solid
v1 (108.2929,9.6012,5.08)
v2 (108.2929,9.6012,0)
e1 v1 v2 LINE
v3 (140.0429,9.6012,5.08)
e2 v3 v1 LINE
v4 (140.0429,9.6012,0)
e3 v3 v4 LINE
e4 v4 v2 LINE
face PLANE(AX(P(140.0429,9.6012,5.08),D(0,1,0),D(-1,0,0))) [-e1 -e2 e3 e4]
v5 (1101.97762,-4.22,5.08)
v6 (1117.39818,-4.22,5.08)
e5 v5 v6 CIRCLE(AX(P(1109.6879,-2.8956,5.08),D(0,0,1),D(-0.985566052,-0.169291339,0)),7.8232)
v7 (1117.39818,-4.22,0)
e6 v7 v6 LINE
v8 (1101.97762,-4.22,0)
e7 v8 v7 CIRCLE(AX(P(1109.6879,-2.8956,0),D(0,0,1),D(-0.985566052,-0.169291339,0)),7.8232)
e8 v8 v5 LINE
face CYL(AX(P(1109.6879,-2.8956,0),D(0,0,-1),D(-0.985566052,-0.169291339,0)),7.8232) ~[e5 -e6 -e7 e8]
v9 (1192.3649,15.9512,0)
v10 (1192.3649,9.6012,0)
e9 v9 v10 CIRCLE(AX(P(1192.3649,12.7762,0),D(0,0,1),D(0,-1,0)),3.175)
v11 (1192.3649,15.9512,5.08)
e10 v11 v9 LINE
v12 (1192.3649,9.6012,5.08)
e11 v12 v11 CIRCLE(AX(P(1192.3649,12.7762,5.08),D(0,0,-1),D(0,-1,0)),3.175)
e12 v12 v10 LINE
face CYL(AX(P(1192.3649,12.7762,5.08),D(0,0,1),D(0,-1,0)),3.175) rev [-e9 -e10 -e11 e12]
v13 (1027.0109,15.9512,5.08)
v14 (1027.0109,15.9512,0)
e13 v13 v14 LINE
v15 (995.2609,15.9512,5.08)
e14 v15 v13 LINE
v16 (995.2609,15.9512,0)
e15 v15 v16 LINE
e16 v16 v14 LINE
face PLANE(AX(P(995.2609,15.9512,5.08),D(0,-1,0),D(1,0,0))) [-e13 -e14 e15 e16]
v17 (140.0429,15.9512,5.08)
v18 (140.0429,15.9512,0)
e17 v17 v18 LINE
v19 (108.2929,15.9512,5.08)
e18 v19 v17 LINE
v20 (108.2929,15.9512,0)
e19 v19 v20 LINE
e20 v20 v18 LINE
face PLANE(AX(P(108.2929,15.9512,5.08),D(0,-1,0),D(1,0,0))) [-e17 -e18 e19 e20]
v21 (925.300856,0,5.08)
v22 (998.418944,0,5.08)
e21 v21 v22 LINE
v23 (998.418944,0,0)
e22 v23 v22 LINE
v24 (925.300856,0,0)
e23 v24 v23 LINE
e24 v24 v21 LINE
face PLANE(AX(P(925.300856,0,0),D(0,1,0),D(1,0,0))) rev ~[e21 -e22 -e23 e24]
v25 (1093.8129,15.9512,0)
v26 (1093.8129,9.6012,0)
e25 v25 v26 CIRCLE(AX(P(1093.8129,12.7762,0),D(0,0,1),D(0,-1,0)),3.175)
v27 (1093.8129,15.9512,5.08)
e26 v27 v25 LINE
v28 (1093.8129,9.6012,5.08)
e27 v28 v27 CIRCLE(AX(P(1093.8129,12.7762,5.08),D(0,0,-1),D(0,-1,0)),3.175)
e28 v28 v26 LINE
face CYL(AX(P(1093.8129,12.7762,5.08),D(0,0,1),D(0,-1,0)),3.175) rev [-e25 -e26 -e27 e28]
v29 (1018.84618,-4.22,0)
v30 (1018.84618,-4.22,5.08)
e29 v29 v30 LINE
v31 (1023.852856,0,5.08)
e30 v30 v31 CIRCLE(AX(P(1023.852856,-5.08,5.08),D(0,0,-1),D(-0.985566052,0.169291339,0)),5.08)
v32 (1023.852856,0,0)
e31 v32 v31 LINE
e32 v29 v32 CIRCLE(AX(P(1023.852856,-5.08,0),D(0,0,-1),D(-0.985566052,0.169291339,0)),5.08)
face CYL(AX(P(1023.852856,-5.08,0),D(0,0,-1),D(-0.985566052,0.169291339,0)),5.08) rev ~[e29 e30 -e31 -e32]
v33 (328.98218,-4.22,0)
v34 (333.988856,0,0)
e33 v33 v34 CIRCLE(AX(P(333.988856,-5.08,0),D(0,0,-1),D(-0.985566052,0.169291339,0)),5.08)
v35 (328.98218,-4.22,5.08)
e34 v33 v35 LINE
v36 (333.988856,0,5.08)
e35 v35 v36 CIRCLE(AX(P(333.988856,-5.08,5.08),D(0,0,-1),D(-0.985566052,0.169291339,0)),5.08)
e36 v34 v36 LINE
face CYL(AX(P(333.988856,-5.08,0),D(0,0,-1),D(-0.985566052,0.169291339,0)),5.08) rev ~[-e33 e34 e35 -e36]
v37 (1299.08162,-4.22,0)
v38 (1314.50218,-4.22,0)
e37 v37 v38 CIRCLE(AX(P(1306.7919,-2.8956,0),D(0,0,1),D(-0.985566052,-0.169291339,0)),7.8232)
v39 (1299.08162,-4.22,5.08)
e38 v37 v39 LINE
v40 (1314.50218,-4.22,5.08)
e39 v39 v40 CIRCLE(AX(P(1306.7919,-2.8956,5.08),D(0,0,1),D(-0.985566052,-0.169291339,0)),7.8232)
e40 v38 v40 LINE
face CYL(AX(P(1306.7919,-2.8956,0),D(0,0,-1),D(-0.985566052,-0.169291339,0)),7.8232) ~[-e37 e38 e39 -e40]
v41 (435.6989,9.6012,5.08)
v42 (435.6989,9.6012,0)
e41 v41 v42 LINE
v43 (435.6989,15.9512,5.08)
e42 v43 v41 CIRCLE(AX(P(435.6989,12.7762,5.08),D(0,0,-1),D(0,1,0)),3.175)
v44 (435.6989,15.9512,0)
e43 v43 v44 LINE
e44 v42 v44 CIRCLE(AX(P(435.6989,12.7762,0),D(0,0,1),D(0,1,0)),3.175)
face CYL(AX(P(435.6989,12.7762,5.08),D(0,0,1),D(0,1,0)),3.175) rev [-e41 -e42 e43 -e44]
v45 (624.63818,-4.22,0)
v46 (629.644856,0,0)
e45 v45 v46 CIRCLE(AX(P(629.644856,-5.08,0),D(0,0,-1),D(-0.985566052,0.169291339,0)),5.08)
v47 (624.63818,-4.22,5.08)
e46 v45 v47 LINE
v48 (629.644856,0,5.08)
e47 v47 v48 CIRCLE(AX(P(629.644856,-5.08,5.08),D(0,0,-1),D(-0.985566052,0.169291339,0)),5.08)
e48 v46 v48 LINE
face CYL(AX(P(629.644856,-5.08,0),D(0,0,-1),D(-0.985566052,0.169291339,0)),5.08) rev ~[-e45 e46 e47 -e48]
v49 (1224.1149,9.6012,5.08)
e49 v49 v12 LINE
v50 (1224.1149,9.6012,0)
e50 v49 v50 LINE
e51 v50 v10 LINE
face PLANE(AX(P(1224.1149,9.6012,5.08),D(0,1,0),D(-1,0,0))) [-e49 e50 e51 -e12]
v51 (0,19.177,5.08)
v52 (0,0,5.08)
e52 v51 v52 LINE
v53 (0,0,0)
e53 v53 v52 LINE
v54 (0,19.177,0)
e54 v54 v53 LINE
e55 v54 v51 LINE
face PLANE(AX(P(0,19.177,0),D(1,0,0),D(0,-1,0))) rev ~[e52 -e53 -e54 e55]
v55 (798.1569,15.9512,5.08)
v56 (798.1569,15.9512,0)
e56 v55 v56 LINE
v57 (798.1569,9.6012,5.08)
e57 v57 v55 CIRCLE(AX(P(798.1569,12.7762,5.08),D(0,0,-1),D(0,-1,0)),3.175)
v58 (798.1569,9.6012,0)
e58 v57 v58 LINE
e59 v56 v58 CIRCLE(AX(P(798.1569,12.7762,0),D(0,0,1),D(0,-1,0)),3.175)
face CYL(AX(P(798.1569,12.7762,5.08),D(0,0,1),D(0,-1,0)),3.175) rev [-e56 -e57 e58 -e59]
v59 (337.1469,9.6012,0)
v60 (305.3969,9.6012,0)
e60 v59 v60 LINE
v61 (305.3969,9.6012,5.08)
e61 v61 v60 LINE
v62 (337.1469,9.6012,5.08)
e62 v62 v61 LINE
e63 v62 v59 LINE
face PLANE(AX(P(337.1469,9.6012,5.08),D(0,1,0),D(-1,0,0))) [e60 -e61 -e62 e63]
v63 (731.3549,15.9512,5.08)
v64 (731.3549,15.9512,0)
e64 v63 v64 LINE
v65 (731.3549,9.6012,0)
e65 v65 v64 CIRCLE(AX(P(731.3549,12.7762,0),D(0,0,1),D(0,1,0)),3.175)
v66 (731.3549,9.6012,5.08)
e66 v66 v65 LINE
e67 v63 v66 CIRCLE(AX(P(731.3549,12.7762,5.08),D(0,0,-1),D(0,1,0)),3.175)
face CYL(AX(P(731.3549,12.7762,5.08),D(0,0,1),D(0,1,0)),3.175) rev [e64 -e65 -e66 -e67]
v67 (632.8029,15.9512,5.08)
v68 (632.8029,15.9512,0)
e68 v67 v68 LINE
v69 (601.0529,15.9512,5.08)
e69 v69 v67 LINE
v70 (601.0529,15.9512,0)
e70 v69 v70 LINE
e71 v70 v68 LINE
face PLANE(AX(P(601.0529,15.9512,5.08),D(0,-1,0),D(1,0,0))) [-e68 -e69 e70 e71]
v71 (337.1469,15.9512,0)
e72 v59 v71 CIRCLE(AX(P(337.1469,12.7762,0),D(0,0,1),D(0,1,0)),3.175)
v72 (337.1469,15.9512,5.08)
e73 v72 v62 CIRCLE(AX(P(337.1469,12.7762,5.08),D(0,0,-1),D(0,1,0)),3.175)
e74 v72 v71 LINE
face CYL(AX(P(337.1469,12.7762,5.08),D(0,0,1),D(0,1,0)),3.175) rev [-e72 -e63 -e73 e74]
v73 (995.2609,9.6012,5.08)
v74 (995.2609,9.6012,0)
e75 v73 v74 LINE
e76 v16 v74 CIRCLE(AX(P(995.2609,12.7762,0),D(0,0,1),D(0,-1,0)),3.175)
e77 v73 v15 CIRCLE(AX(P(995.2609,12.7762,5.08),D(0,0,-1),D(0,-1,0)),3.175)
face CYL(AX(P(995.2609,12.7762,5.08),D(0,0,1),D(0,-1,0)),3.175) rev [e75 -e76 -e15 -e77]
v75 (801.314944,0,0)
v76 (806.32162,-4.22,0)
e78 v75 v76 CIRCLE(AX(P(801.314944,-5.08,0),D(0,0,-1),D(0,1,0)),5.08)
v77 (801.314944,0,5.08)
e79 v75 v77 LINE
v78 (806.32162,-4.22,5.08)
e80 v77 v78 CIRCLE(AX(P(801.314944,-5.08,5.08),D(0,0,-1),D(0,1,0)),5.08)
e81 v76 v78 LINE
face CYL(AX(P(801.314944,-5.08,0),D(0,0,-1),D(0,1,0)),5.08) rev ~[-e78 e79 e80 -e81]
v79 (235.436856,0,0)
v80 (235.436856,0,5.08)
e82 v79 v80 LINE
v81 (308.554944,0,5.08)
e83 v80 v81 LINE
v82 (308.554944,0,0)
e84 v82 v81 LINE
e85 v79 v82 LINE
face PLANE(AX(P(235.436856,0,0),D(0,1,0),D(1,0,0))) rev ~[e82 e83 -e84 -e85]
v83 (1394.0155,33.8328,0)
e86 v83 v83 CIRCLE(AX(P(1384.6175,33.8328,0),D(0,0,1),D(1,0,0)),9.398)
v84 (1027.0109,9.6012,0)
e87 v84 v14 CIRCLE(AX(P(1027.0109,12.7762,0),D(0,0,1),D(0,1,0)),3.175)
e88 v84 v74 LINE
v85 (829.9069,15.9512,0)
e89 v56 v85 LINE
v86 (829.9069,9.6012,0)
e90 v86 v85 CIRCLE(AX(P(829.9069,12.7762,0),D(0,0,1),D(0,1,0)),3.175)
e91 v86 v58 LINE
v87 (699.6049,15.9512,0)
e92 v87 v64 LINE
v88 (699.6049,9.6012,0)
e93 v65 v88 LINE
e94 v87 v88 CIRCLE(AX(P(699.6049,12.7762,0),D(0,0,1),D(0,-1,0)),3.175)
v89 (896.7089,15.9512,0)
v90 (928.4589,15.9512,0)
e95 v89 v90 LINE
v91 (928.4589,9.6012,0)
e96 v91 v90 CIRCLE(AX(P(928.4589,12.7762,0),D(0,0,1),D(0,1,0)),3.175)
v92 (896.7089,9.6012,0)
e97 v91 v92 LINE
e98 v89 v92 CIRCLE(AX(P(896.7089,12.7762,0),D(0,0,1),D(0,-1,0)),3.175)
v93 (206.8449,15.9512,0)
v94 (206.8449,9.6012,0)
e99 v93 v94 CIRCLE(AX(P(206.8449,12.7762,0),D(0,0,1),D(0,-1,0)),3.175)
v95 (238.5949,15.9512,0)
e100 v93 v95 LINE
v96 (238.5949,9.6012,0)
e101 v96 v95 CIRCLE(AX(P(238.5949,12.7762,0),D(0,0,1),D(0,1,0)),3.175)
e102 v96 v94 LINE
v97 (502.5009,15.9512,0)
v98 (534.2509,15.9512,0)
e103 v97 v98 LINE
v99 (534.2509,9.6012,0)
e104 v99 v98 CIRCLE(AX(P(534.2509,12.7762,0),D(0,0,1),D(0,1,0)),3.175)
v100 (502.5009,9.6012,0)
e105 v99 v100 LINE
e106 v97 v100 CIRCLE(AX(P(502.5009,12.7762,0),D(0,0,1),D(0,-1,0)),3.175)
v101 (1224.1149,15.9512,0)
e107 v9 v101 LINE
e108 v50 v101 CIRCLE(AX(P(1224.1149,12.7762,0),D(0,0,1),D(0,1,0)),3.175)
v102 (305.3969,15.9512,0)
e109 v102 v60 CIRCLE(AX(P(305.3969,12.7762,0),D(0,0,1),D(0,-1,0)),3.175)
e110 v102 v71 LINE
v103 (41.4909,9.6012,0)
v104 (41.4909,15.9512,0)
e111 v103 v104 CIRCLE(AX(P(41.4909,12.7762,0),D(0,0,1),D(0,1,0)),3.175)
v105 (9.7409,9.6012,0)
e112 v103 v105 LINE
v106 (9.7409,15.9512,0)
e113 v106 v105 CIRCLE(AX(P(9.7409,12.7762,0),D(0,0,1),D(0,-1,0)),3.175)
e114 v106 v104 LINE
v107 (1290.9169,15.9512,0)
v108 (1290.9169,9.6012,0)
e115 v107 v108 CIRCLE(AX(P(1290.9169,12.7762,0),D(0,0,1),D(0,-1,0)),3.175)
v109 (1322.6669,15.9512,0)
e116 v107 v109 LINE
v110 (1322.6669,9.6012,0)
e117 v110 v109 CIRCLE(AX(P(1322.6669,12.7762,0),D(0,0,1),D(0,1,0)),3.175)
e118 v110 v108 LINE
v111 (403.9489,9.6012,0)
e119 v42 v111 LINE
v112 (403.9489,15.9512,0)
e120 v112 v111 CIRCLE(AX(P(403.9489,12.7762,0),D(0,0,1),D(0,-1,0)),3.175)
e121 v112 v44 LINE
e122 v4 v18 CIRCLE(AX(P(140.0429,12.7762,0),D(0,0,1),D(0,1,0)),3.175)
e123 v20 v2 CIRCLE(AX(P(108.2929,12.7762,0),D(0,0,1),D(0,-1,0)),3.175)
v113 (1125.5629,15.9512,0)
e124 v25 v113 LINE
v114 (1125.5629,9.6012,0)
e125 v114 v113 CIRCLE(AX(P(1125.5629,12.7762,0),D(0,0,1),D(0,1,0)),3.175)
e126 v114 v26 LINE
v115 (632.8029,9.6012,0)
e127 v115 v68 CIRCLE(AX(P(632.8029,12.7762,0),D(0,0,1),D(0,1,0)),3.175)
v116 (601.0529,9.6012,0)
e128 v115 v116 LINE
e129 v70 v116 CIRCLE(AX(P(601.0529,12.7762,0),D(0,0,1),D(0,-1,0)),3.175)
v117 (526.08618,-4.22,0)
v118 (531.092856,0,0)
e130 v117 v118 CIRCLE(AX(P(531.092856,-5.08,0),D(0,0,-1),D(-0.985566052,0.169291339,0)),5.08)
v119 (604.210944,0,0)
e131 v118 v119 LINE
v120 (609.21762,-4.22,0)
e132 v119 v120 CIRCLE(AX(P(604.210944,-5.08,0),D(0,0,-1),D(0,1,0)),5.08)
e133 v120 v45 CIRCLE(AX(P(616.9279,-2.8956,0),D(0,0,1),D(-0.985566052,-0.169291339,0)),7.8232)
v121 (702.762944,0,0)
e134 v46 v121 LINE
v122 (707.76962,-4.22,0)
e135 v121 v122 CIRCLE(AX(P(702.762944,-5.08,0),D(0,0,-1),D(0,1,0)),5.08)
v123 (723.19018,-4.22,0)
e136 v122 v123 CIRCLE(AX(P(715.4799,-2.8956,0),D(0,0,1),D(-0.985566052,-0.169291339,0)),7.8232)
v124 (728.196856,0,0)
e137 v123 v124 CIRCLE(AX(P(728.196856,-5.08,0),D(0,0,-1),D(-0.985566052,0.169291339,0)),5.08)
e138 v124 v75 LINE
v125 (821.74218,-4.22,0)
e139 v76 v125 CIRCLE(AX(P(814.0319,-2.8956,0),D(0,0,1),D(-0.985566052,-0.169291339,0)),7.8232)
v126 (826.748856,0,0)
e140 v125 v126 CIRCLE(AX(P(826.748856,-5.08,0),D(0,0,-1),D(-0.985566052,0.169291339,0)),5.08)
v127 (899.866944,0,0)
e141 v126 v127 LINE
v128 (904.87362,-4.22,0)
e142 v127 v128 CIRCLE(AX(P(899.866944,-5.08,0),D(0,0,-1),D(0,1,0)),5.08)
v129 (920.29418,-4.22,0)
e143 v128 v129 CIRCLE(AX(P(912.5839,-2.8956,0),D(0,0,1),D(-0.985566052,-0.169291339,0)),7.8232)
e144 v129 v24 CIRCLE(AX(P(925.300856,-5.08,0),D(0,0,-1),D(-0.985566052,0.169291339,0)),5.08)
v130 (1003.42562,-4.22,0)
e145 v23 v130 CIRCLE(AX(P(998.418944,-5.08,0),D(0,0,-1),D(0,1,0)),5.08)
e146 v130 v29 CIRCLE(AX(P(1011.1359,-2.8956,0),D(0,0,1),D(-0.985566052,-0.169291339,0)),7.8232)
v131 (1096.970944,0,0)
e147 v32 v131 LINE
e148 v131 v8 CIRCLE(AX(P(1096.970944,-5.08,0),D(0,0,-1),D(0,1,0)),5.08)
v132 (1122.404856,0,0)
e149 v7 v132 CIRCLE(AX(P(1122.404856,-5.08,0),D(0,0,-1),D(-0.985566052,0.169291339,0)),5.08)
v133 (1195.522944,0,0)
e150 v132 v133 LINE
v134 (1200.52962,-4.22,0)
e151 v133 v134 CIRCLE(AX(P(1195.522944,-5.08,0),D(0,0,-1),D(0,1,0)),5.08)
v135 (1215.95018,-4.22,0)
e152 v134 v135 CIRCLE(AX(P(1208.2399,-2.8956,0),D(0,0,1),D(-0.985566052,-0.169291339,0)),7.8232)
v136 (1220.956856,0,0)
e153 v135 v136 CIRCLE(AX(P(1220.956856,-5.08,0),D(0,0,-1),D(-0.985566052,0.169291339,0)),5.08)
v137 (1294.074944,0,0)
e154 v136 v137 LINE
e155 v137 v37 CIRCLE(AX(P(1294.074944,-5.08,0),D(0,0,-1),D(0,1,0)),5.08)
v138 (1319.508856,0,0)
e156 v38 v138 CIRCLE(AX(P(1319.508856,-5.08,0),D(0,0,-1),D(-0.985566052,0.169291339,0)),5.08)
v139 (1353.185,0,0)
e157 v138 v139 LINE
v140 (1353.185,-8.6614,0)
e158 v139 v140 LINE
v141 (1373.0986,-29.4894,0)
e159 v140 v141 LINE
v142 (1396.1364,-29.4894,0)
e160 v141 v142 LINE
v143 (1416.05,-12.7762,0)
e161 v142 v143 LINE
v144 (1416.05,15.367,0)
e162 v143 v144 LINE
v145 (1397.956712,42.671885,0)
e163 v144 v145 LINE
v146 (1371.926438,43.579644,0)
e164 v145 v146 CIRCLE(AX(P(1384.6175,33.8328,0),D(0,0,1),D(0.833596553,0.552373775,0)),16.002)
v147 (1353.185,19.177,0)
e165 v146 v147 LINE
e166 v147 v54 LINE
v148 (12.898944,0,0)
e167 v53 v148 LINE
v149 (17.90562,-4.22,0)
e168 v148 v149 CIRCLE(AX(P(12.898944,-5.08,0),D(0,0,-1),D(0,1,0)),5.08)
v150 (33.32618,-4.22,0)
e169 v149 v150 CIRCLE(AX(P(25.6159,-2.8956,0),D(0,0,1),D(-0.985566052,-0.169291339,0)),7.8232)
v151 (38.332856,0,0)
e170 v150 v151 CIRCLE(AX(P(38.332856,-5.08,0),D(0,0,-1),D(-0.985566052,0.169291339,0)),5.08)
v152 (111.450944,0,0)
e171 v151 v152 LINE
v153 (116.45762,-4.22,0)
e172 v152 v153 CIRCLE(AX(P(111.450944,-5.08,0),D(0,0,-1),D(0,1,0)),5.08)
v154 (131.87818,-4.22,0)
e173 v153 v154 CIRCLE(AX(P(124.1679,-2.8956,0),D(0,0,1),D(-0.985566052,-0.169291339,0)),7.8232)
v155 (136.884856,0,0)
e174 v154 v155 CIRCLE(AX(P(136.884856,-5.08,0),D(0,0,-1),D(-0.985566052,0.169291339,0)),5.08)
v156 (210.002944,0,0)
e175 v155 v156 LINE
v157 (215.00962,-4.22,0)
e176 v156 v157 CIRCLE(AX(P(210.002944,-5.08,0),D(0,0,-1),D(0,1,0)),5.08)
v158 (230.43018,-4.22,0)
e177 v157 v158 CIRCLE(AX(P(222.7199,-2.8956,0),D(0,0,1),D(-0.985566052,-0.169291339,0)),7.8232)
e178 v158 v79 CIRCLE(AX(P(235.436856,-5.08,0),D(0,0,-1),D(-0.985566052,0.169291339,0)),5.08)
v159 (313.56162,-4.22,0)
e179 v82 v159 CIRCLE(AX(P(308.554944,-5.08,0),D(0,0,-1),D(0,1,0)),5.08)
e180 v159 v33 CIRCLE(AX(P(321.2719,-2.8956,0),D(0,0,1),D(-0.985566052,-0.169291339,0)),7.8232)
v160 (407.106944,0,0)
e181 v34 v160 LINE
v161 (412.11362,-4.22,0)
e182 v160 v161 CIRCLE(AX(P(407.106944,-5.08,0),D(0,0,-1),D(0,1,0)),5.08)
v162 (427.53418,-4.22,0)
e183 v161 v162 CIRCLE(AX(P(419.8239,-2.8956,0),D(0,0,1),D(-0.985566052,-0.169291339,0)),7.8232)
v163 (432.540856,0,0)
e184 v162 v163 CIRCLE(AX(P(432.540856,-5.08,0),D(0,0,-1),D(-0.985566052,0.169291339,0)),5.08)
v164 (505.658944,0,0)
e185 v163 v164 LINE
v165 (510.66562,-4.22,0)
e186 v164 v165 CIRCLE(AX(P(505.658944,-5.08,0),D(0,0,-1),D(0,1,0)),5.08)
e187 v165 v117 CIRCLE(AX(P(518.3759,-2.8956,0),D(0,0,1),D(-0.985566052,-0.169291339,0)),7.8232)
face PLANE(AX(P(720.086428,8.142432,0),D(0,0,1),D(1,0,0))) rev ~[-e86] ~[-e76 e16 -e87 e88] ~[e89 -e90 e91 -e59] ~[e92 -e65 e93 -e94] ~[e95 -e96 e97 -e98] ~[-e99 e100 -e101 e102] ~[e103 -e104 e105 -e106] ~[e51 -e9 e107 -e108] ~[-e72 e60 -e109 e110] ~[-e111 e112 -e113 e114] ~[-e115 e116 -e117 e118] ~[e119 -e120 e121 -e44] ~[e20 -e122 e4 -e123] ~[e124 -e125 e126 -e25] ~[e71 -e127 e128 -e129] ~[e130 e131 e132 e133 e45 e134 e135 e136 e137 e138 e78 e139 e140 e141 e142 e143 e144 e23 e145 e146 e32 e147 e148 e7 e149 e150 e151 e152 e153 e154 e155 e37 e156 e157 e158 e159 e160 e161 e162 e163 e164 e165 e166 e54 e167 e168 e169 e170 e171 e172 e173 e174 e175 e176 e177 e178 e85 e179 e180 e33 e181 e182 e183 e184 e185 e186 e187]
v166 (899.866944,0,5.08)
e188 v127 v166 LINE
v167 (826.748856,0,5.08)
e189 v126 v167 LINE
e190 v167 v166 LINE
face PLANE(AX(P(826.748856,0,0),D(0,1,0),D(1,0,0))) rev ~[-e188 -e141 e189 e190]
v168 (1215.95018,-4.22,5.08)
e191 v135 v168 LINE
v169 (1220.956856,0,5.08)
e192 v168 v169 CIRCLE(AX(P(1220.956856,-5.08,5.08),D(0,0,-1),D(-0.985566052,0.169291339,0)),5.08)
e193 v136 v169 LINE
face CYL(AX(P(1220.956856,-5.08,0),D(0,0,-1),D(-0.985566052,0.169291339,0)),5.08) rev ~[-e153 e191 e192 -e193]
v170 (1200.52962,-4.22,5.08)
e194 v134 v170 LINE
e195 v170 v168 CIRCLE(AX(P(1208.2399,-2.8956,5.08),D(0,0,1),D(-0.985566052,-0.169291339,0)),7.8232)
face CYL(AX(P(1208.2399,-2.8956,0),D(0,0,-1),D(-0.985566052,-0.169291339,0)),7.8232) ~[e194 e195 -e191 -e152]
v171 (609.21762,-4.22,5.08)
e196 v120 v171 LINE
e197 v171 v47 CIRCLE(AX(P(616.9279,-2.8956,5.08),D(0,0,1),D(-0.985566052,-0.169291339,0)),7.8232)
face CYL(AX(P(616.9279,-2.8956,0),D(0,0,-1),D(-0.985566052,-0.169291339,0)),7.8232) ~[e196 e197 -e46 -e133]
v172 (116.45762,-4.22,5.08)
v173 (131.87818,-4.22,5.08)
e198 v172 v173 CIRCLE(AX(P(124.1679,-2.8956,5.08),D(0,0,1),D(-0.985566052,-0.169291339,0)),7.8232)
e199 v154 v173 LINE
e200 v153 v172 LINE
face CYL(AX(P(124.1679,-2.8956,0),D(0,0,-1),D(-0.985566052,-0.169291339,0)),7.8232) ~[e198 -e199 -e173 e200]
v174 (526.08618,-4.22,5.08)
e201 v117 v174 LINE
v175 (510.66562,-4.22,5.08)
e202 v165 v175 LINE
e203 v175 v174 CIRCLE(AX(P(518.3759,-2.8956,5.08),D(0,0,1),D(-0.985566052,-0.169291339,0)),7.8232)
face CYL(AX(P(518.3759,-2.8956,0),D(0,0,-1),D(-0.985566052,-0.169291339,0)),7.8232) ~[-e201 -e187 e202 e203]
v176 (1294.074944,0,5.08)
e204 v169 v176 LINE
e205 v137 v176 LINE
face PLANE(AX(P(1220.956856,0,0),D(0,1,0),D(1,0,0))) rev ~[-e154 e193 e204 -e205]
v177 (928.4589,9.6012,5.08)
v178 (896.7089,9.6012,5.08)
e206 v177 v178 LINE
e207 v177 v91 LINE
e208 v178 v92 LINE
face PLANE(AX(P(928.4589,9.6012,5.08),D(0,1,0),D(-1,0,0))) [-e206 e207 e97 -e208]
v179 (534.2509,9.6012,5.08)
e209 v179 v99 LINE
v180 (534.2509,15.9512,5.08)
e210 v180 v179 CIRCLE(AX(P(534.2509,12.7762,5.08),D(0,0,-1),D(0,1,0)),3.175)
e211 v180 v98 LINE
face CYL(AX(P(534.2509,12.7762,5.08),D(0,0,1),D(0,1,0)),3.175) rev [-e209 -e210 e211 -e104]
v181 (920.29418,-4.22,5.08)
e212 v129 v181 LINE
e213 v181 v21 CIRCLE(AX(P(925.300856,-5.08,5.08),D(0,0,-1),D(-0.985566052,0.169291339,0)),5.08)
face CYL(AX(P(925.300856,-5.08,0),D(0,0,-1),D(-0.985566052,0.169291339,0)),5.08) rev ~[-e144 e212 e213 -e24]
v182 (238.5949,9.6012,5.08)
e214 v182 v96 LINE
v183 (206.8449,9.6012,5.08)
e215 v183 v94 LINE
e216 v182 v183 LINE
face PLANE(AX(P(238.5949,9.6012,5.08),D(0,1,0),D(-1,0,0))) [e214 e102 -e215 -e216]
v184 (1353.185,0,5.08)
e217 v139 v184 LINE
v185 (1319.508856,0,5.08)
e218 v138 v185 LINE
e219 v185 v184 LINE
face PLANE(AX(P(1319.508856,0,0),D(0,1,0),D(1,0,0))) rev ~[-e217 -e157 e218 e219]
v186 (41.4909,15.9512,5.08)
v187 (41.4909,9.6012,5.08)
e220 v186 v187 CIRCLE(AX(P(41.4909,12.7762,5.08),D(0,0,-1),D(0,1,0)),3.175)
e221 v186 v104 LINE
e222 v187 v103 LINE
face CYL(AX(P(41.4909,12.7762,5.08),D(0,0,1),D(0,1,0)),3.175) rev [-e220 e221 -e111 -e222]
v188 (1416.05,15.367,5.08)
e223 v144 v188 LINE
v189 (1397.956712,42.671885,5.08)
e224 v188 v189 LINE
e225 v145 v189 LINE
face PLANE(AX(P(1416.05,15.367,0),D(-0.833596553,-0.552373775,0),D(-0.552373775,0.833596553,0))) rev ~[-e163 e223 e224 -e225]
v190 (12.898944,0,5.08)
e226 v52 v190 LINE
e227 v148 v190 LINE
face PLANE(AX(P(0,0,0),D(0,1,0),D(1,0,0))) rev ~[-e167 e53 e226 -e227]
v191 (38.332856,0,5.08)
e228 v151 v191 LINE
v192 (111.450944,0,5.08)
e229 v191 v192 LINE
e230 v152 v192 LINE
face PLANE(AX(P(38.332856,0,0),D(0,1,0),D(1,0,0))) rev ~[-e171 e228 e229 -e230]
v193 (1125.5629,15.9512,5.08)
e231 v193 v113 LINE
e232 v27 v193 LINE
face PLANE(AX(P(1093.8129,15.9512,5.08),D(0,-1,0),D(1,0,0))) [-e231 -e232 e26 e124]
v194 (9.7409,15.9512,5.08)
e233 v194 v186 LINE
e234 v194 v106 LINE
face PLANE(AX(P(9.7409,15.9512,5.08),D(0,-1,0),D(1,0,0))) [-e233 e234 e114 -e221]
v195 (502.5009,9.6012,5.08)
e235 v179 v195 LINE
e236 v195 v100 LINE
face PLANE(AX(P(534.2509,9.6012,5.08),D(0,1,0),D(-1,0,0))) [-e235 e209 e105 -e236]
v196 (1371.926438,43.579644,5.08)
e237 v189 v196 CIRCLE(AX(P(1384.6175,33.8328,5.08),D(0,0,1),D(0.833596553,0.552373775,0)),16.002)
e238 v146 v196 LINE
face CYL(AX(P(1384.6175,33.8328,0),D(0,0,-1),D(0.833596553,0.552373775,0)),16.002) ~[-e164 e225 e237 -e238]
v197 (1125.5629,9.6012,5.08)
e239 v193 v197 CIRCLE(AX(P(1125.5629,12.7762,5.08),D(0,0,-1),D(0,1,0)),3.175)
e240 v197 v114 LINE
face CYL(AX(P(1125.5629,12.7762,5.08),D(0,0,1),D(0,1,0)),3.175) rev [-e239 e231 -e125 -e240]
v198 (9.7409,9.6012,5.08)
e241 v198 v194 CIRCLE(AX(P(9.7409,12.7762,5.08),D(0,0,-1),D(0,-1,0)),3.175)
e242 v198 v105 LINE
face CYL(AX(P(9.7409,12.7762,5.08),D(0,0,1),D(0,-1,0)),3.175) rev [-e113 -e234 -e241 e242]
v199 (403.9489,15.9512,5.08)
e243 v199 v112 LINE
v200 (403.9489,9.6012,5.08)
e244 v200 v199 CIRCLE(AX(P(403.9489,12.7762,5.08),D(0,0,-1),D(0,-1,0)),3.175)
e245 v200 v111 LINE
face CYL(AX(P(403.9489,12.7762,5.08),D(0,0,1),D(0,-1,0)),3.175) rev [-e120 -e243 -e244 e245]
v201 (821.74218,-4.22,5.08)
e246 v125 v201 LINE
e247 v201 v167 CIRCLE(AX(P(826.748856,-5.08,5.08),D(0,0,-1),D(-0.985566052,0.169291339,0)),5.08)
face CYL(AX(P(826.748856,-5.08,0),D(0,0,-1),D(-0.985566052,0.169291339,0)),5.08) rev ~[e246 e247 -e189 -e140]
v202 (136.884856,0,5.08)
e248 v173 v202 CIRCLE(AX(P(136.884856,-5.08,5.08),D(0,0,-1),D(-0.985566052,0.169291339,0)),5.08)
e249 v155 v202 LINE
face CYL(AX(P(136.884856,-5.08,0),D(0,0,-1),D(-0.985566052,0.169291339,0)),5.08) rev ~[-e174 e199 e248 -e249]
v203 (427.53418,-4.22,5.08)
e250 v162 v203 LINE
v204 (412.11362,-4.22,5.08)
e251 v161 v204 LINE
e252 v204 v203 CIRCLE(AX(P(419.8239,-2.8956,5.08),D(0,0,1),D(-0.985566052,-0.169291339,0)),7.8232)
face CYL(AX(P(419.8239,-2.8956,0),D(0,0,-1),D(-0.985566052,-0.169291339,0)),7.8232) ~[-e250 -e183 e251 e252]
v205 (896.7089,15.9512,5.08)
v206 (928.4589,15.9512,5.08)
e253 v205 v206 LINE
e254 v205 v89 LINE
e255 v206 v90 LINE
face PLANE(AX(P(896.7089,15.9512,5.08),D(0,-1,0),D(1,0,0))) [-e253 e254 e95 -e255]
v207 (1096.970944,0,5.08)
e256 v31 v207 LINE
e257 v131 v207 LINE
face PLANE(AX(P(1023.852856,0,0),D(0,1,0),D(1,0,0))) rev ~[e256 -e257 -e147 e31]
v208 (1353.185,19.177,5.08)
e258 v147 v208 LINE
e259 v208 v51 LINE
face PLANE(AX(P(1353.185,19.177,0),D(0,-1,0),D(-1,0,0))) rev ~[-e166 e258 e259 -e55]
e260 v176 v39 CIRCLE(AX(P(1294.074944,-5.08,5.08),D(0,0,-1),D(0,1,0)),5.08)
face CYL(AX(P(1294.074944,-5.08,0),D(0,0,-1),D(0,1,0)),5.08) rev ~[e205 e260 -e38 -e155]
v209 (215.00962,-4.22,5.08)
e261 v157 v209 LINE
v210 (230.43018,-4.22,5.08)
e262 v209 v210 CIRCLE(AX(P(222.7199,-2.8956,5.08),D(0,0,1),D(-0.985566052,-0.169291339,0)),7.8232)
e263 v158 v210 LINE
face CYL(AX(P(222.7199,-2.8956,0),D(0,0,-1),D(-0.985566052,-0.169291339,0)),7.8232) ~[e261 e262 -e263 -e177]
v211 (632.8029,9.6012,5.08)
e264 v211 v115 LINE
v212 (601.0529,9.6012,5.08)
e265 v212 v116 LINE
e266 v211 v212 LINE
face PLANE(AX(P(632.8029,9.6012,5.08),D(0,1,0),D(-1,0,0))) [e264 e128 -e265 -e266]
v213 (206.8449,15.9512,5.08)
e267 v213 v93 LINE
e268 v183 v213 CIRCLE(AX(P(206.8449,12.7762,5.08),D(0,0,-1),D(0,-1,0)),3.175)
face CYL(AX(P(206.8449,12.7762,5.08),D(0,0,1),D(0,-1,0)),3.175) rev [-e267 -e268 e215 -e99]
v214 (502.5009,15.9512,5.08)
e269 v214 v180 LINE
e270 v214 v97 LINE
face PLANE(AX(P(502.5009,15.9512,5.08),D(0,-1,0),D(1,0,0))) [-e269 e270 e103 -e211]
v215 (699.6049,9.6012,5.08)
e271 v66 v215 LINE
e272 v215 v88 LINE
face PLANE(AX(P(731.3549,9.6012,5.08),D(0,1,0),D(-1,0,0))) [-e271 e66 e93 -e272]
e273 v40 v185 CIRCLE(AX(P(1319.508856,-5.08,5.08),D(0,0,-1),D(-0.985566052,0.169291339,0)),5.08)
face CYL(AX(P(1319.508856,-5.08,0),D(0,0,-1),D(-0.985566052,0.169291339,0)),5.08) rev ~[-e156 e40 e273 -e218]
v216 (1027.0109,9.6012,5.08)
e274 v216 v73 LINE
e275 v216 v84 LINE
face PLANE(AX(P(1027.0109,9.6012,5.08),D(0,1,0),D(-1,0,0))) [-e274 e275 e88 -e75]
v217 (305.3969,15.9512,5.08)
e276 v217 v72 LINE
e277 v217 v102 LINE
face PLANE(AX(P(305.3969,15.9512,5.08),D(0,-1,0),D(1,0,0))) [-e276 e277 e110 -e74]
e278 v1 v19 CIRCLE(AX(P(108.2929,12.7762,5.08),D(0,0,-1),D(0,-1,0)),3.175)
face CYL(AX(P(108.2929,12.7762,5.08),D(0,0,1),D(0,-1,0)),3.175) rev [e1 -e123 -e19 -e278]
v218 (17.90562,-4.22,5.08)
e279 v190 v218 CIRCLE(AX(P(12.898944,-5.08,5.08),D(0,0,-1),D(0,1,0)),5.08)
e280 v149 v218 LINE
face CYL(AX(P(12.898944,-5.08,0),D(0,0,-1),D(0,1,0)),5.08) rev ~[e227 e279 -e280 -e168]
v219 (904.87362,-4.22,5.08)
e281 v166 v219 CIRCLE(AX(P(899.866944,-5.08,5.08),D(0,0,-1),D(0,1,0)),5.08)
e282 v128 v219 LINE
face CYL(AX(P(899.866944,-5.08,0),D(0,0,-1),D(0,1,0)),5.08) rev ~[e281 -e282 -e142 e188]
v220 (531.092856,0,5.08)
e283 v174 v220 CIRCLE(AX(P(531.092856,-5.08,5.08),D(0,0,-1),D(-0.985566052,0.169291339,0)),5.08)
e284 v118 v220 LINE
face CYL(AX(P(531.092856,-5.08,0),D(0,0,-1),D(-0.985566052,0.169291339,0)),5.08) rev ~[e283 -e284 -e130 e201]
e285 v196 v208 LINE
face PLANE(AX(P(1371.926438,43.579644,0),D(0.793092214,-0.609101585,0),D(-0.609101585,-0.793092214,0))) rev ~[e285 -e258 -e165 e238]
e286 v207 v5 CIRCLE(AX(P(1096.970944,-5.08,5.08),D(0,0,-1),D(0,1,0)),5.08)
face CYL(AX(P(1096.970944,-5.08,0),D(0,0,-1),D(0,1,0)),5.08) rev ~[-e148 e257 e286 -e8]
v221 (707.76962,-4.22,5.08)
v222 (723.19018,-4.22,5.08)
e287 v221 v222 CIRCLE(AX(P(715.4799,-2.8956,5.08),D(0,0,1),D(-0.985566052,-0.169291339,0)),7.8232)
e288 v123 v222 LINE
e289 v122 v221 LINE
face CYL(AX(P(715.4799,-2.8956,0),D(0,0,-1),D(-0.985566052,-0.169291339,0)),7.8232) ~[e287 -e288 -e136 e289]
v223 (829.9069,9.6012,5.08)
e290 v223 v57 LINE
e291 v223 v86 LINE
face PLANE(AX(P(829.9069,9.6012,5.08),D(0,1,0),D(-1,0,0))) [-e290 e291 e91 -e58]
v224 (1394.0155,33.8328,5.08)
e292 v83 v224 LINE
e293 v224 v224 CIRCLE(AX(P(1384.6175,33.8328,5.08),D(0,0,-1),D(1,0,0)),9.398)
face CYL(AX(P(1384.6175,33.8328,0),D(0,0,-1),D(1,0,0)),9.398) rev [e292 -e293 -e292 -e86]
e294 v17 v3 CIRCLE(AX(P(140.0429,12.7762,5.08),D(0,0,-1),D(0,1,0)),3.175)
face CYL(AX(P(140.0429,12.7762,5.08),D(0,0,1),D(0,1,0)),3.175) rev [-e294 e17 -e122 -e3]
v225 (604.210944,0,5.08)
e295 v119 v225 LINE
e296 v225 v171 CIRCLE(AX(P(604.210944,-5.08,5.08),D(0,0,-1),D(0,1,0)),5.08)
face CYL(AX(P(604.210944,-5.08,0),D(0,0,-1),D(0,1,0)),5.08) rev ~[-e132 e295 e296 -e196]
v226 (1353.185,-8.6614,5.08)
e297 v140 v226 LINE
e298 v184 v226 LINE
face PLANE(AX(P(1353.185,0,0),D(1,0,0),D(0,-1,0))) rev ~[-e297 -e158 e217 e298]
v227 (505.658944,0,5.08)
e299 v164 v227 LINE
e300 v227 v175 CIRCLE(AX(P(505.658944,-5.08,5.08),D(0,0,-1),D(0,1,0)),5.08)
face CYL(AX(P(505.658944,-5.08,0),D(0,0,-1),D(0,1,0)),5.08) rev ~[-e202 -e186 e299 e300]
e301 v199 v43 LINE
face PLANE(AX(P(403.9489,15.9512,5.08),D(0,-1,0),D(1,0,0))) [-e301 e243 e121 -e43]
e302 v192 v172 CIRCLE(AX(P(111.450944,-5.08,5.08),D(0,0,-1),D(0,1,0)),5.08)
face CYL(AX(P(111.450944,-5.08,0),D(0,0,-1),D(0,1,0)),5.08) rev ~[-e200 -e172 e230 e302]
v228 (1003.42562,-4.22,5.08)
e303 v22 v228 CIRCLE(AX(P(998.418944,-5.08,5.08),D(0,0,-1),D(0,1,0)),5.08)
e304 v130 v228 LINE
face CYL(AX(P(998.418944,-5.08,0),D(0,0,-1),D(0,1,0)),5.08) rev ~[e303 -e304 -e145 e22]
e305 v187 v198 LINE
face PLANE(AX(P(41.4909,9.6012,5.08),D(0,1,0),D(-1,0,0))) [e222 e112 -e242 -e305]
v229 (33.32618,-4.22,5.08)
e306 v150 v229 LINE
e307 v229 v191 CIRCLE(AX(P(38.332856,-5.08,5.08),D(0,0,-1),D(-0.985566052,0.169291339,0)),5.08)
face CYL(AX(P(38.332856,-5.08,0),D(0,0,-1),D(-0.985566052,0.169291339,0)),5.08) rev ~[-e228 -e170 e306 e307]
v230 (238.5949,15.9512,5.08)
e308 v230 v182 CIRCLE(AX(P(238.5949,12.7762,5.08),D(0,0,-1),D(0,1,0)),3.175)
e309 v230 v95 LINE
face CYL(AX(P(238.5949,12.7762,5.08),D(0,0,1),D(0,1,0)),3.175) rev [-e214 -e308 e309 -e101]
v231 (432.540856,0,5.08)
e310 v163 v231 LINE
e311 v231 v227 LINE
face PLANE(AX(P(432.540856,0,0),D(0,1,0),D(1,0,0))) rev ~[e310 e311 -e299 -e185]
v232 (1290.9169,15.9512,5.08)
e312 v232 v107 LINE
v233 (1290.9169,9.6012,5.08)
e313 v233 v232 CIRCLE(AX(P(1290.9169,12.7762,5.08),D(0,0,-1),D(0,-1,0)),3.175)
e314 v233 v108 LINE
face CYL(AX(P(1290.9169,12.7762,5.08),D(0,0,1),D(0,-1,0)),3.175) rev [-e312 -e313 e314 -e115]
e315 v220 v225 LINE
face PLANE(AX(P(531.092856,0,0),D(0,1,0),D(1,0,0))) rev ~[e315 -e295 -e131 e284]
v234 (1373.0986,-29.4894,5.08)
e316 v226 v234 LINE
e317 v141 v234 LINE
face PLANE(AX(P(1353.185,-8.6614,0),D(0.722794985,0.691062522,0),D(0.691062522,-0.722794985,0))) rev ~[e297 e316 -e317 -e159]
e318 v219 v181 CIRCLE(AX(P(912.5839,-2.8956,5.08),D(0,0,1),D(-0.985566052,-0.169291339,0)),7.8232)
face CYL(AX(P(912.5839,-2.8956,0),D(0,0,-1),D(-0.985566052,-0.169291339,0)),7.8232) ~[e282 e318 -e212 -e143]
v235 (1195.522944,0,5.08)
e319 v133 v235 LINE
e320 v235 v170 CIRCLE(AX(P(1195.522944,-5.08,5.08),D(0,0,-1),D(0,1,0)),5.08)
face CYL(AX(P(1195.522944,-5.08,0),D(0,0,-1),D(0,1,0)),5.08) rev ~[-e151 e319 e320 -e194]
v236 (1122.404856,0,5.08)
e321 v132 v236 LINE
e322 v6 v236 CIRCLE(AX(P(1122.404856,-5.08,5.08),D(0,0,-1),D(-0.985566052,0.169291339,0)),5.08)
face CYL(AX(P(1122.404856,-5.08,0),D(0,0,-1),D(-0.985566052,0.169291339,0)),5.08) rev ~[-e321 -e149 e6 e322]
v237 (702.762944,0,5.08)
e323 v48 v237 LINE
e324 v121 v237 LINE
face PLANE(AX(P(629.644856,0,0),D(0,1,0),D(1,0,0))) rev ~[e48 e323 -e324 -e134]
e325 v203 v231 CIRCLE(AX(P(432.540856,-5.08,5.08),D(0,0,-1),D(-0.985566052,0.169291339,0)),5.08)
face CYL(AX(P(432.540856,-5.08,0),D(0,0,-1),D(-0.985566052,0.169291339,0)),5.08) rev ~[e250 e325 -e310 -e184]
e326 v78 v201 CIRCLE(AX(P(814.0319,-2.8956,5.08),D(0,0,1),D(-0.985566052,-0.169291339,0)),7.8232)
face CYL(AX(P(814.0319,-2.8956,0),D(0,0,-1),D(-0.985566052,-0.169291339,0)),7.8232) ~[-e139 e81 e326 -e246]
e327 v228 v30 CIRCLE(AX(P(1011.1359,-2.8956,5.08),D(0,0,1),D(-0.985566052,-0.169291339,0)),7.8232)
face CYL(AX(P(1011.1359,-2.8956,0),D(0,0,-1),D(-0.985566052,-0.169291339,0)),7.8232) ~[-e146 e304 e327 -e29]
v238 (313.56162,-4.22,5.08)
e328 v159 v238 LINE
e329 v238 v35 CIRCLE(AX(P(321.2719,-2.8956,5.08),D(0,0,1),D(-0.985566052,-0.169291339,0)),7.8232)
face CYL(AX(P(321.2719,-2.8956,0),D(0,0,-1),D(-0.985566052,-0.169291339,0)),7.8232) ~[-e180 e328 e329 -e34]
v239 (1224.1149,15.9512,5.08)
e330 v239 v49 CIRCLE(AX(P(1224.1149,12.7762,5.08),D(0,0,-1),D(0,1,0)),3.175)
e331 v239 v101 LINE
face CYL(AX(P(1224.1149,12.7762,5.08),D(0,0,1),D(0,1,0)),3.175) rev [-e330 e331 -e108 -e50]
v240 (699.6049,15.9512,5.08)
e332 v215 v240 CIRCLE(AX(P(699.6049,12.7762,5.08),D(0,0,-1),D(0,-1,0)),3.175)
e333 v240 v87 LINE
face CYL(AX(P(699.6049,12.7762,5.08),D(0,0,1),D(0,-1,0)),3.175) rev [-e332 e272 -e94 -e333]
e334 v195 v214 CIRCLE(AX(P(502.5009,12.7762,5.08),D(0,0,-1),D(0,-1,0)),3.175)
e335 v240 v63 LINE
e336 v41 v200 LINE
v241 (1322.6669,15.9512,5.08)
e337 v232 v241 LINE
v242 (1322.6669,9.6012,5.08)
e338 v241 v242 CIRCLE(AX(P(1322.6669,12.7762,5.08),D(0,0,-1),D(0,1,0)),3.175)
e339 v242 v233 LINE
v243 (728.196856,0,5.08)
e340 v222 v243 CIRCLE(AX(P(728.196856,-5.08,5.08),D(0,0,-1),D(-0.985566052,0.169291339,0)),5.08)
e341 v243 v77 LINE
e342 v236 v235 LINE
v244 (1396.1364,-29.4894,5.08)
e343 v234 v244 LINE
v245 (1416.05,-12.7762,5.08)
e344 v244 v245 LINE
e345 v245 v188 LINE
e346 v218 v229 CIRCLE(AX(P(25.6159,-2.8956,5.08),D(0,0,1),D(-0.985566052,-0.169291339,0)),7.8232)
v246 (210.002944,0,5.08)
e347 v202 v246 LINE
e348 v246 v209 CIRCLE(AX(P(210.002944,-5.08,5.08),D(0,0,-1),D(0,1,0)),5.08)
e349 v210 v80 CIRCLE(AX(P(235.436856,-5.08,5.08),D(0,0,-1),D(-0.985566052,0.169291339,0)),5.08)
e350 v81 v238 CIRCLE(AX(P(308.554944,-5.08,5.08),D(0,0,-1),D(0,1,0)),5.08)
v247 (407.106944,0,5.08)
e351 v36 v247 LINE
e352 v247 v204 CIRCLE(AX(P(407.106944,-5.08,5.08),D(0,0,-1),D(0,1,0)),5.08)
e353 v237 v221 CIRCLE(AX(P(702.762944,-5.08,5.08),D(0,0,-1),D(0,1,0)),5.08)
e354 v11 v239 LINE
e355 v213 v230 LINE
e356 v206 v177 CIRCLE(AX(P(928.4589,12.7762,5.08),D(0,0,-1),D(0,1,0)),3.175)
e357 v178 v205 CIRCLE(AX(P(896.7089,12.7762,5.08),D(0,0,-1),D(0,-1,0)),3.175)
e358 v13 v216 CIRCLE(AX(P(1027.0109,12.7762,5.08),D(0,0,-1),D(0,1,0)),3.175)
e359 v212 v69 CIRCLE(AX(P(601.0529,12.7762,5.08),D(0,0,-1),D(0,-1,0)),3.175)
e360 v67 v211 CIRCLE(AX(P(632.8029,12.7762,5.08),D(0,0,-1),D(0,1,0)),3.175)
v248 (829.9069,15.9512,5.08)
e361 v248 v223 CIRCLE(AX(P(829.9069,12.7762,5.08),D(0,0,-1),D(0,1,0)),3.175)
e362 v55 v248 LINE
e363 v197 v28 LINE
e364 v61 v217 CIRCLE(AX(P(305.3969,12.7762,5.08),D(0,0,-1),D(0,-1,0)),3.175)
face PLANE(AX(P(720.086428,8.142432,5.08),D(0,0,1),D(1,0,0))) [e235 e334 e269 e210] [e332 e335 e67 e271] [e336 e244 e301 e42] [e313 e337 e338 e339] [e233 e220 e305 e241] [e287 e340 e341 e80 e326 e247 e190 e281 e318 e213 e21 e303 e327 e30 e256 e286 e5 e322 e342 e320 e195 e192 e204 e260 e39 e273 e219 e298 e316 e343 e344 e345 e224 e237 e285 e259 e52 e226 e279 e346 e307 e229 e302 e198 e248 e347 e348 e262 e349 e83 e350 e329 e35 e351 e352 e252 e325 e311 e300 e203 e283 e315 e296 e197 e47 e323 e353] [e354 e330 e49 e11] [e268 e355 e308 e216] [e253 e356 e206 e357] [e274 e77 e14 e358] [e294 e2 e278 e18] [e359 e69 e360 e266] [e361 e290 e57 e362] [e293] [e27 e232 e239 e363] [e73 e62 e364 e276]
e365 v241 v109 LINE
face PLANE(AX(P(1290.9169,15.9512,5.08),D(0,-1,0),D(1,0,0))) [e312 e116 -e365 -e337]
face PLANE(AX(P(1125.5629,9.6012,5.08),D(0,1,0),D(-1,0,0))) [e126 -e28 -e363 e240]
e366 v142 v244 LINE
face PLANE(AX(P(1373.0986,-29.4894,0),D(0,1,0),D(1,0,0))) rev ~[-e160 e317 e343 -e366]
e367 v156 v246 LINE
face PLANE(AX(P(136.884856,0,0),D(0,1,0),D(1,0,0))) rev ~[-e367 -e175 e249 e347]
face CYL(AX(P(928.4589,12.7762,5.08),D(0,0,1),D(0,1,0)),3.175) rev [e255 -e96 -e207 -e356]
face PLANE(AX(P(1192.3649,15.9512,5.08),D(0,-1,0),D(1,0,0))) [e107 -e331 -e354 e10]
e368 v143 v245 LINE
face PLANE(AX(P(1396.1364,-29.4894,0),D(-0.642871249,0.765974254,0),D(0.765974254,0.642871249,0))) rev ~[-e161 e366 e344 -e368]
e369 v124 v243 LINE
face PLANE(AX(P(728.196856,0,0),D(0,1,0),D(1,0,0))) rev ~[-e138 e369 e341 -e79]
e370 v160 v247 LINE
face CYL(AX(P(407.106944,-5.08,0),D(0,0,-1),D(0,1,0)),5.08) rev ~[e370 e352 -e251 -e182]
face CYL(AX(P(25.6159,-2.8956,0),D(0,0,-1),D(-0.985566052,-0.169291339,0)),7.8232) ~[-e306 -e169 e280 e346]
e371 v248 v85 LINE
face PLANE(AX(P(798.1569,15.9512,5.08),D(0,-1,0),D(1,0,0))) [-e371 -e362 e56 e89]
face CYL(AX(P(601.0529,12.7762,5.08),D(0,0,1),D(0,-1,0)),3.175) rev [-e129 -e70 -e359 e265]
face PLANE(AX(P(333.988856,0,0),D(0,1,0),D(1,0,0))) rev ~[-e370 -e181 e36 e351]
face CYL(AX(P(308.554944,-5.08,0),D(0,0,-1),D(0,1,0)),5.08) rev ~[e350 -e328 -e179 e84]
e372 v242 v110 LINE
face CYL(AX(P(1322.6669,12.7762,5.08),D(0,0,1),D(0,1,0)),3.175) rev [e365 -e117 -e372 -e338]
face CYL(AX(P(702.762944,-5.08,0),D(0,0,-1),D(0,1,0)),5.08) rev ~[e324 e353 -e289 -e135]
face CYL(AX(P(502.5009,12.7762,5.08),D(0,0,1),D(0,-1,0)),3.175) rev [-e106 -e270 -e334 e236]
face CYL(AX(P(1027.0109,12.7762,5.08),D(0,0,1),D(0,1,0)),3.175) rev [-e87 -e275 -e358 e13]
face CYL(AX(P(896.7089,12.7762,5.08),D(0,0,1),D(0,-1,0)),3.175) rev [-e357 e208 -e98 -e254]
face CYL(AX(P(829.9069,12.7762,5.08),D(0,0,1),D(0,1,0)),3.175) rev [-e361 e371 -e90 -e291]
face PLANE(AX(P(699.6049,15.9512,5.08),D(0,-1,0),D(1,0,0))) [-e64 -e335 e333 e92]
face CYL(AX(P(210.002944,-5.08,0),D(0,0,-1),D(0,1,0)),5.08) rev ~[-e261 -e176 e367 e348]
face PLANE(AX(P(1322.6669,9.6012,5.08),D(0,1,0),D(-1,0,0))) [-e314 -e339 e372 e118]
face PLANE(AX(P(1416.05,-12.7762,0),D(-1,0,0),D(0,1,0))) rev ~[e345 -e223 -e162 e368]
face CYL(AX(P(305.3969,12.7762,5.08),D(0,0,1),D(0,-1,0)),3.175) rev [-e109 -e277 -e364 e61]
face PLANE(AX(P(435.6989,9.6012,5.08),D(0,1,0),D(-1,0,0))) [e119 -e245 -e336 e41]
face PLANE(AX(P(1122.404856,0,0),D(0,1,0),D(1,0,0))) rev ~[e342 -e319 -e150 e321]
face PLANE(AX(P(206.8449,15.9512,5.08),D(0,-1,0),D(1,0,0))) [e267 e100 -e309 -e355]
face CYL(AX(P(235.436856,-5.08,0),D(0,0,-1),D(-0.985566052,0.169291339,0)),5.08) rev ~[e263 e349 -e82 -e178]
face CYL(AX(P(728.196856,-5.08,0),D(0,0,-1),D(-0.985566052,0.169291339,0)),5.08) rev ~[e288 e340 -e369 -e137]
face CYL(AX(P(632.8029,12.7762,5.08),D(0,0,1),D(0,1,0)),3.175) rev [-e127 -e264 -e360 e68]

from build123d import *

# Parameters (mm, degrees)
BOSS_EXTRUDE1_DEPTH     = 5.08
CUT_EXTRUDE4_DEPTH      = 6.08
SKETCH1_4_R             = 9.398
CUT_EXTRUDE7_DEPTH      = 6.08
CUT_EXTRUDE7_DEPTH_BACK = 1


with BuildPart() as part:
    # Sketch1 → Boss-Extrude1 (new body)
    with BuildSketch(Plane.XY):
        with BuildLine():
            Line((0, 0), (12.898944119, 0))
            ThreePointArc((12.898944119, 0), (16.172901968, -1.195724006), (17.905619663, -4.22))
            ThreePointArc((17.905619663, -4.22), (25.6159, -10.7188), (33.326180337, -4.22))
            ThreePointArc((33.326180337, -4.22), (35.058898032, -1.195724006), (38.332855881, 0))
            Line((38.332855881, 0), (111.450944119, 0))
            ThreePointArc((111.450944119, 0), (114.724901968, -1.195724006), (116.457619663, -4.22))
            ThreePointArc((116.457619663, -4.22), (124.1679, -10.7188), (131.878180337, -4.22))
            ThreePointArc((131.878180337, -4.22), (133.610898032, -1.195724006), (136.884855881, 0))
            Line((136.884855881, 0), (210.002944119, 0))
            ThreePointArc((210.002944119, 0), (213.276901968, -1.195724006), (215.009619663, -4.22))
            ThreePointArc((215.009619663, -4.22), (222.7199, -10.7188), (230.430180337, -4.22))
            ThreePointArc((230.430180337, -4.22), (232.162898032, -1.195724006), (235.436855881, 0))
            Line((235.436855881, 0), (308.554944119, 0))
            ThreePointArc((308.554944119, 0), (311.828901968, -1.195724006), (313.561619663, -4.22))
            ThreePointArc((313.561619663, -4.22), (321.2719, -10.7188), (328.982180337, -4.22))
            ThreePointArc((328.982180337, -4.22), (330.714898032, -1.195724006), (333.988855881, 0))
            Line((333.988855881, 0), (407.106944119, 0))
            ThreePointArc((407.106944119, 0), (410.380901968, -1.195724006), (412.113619663, -4.22))
            ThreePointArc((412.113619663, -4.22), (419.8239, -10.7188), (427.534180337, -4.22))
            ThreePointArc((427.534180337, -4.22), (429.266898032, -1.195724006), (432.540855881, 0))
            Line((432.540855881, 0), (505.658944119, 0))
            ThreePointArc((505.658944119, 0), (508.932901968, -1.195724006), (510.665619663, -4.22))
            ThreePointArc((510.665619663, -4.22), (518.3759, -10.7188), (526.086180337, -4.22))
            ThreePointArc((526.086180337, -4.22), (527.818898032, -1.195724006), (531.092855881, 0))
            Line((531.092855881, 0), (604.210944119, 0))
            ThreePointArc((604.210944119, 0), (607.484901968, -1.195724006), (609.217619663, -4.22))
            ThreePointArc((609.217619663, -4.22), (616.9279, -10.7188), (624.638180337, -4.22))
            ThreePointArc((624.638180337, -4.22), (626.370898032, -1.195724006), (629.644855881, 0))
            Line((629.644855881, 0), (702.762944119, 0))
            ThreePointArc((702.762944119, 0), (706.036901968, -1.195724006), (707.769619663, -4.22))
            ThreePointArc((707.769619663, -4.22), (715.4799, -10.7188), (723.190180337, -4.22))
            ThreePointArc((723.190180337, -4.22), (724.922898032, -1.195724006), (728.196855881, 0))
            Line((728.196855881, 0), (801.314944119, 0))
            ThreePointArc((801.314944119, 0), (804.588901968, -1.195724006), (806.321619663, -4.22))
            ThreePointArc((806.321619663, -4.22), (814.0319, -10.7188), (821.742180337, -4.22))
            ThreePointArc((821.742180337, -4.22), (823.474898032, -1.195724006), (826.748855881, 0))
            Line((826.748855881, 0), (899.866944119, 0))
            ThreePointArc((899.866944119, 0), (903.140901968, -1.195724006), (904.873619663, -4.22))
            ThreePointArc((904.873619663, -4.22), (912.5839, -10.7188), (920.294180337, -4.22))
            ThreePointArc((920.294180337, -4.22), (922.026898032, -1.195724006), (925.300855881, 0))
            Line((925.300855881, 0), (998.418944119, 0))
            ThreePointArc((998.418944119, 0), (1001.692901968, -1.195724006), (1003.425619663, -4.22))
            ThreePointArc((1003.425619663, -4.22), (1011.1359, -10.7188), (1018.846180337, -4.22))
            ThreePointArc((1018.846180337, -4.22), (1020.578898032, -1.195724006), (1023.852855881, 0))
            Line((1023.852855881, 0), (1096.970944119, 0))
            ThreePointArc((1096.970944119, 0), (1100.244901968, -1.195724006), (1101.977619663, -4.22))
            ThreePointArc((1101.977619663, -4.22), (1109.6879, -10.7188), (1117.398180337, -4.22))
            ThreePointArc((1117.398180337, -4.22), (1119.130898032, -1.195724006), (1122.404855881, 0))
            Line((1122.404855881, 0), (1195.522944119, 0))
            ThreePointArc((1195.522944119, 0), (1198.796901968, -1.195724006), (1200.529619663, -4.22))
            ThreePointArc((1200.529619663, -4.22), (1208.2399, -10.7188), (1215.950180337, -4.22))
            ThreePointArc((1215.950180337, -4.22), (1217.682898032, -1.195724006), (1220.956855881, 0))
            Line((1220.956855881, 0), (1294.074944119, 0))
            ThreePointArc((1294.074944119, 0), (1297.348901968, -1.195724006), (1299.081619663, -4.22))
            ThreePointArc((1299.081619663, -4.22), (1306.7919, -10.7188), (1314.502180337, -4.22))
            ThreePointArc((1314.502180337, -4.22), (1316.234898032, -1.195724006), (1319.508855881, 0))
            Line((1319.508855881, 0), (1353.185, 0))
            Line((1353.185, 0), (1353.185, -8.6614))
            Line((1353.185, -8.6614), (1373.0986, -29.4894))
            Line((1373.0986, -29.4894), (1396.1364, -29.4894))
            Line((1396.1364, -29.4894), (1416.05, -12.7762))
            Line((1416.05, -12.7762), (1416.05, 15.367))
            Line((1416.05, 15.367), (1397.95671204, 42.671885143))
            ThreePointArc((1397.95671204, 42.671885143), (1385.175201607, 49.825078541), (1371.926438397, 43.57964356))
            Line((1371.926438397, 43.57964356), (1353.185, 19.177))
            Line((1353.185, 19.177), (0, 19.177))
            Line((0, 19.177), (0, 0))
        make_face()
    extrude(amount=BOSS_EXTRUDE1_DEPTH)

    # Sketch2 → Cut-Extrude4 (cut, through all)
    with BuildSketch(Plane.XY.offset(5.08)):
        with BuildLine():
            Line((9.7409, 15.9512), (41.4909, 15.9512))
            ThreePointArc((41.4909, 15.9512), (44.6659, 12.7762), (41.4909, 9.6012))
            Line((41.4909, 9.6012), (9.7409, 9.6012))
            ThreePointArc((9.7409, 9.6012), (6.5659, 12.7762), (9.7409, 15.9512))
        make_face()
        with BuildLine():
            Line((108.2929, 15.9512), (140.0429, 15.9512))
            ThreePointArc((140.0429, 15.9512), (143.2179, 12.7762), (140.0429, 9.6012))
            Line((140.0429, 9.6012), (108.2929, 9.6012))
            ThreePointArc((108.2929, 9.6012), (105.1179, 12.7762), (108.2929, 15.9512))
        make_face()
        with BuildLine():
            Line((206.8449, 15.9512), (238.5949, 15.9512))
            ThreePointArc((238.5949, 15.9512), (241.7699, 12.7762), (238.5949, 9.6012))
            Line((238.5949, 9.6012), (206.8449, 9.6012))
            ThreePointArc((206.8449, 9.6012), (203.6699, 12.7762), (206.8449, 15.9512))
        make_face()
        with BuildLine():
            Line((305.3969, 15.9512), (337.1469, 15.9512))
            ThreePointArc((337.1469, 15.9512), (340.3219, 12.7762), (337.1469, 9.6012))
            Line((337.1469, 9.6012), (305.3969, 9.6012))
            ThreePointArc((305.3969, 9.6012), (302.2219, 12.7762), (305.3969, 15.9512))
        make_face()
        with BuildLine():
            Line((403.9489, 15.9512), (435.6989, 15.9512))
            ThreePointArc((435.6989, 15.9512), (438.8739, 12.7762), (435.6989, 9.6012))
            Line((435.6989, 9.6012), (403.9489, 9.6012))
            ThreePointArc((403.9489, 9.6012), (400.7739, 12.7762), (403.9489, 15.9512))
        make_face()
        with BuildLine():
            Line((502.5009, 15.9512), (534.2509, 15.9512))
            ThreePointArc((534.2509, 15.9512), (537.4259, 12.7762), (534.2509, 9.6012))
            Line((534.2509, 9.6012), (502.5009, 9.6012))
            ThreePointArc((502.5009, 9.6012), (499.3259, 12.7762), (502.5009, 15.9512))
        make_face()
        with BuildLine():
            Line((601.0529, 15.9512), (632.8029, 15.9512))
            ThreePointArc((632.8029, 15.9512), (635.9779, 12.7762), (632.8029, 9.6012))
            Line((632.8029, 9.6012), (601.0529, 9.6012))
            ThreePointArc((601.0529, 9.6012), (597.8779, 12.7762), (601.0529, 15.9512))
        make_face()
        with BuildLine():
            Line((699.6049, 15.9512), (731.3549, 15.9512))
            ThreePointArc((731.3549, 15.9512), (734.5299, 12.7762), (731.3549, 9.6012))
            Line((731.3549, 9.6012), (699.6049, 9.6012))
            ThreePointArc((699.6049, 9.6012), (696.4299, 12.7762), (699.6049, 15.9512))
        make_face()
        with BuildLine():
            Line((798.1569, 15.9512), (829.9069, 15.9512))
            ThreePointArc((829.9069, 15.9512), (833.0819, 12.7762), (829.9069, 9.6012))
            Line((829.9069, 9.6012), (798.1569, 9.6012))
            ThreePointArc((798.1569, 9.6012), (794.9819, 12.7762), (798.1569, 15.9512))
        make_face()
        with BuildLine():
            Line((896.7089, 15.9512), (928.4589, 15.9512))
            ThreePointArc((928.4589, 15.9512), (931.6339, 12.7762), (928.4589, 9.6012))
            Line((928.4589, 9.6012), (896.7089, 9.6012))
            ThreePointArc((896.7089, 9.6012), (893.5339, 12.7762), (896.7089, 15.9512))
        make_face()
        with BuildLine():
            Line((995.2609, 15.9512), (1027.0109, 15.9512))
            ThreePointArc((1027.0109, 15.9512), (1030.1859, 12.7762), (1027.0109, 9.6012))
            Line((1027.0109, 9.6012), (995.2609, 9.6012))
            ThreePointArc((995.2609, 9.6012), (992.0859, 12.7762), (995.2609, 15.9512))
        make_face()
        with BuildLine():
            Line((1093.8129, 15.9512), (1125.5629, 15.9512))
            ThreePointArc((1125.5629, 15.9512), (1128.7379, 12.7762), (1125.5629, 9.6012))
            Line((1125.5629, 9.6012), (1093.8129, 9.6012))
            ThreePointArc((1093.8129, 9.6012), (1090.6379, 12.7762), (1093.8129, 15.9512))
        make_face()
        with BuildLine():
            Line((1192.3649, 15.9512), (1224.1149, 15.9512))
            ThreePointArc((1224.1149, 15.9512), (1227.2899, 12.7762), (1224.1149, 9.6012))
            Line((1224.1149, 9.6012), (1192.3649, 9.6012))
            ThreePointArc((1192.3649, 9.6012), (1189.1899, 12.7762), (1192.3649, 15.9512))
        make_face()
        with BuildLine():
            Line((1290.9169, 15.9512), (1322.6669, 15.9512))
            ThreePointArc((1322.6669, 15.9512), (1325.8419, 12.7762), (1322.6669, 9.6012))
            Line((1322.6669, 9.6012), (1290.9169, 9.6012))
            ThreePointArc((1290.9169, 9.6012), (1287.7419, 12.7762), (1290.9169, 15.9512))
        make_face()
    extrude(amount=-CUT_EXTRUDE4_DEPTH, mode=Mode.SUBTRACT)

    # Sketch1<4> → Cut-Extrude7 (cut, two sides)
    with BuildSketch(Plane.XY) as cut_extrude7_sk:
        with Locations((1384.6175, 33.8328)):
            Circle(SKETCH1_4_R)
    extrude(amount=CUT_EXTRUDE7_DEPTH, mode=Mode.SUBTRACT)
    extrude(cut_extrude7_sk.sketch, amount=-CUT_EXTRUDE7_DEPTH_BACK, mode=Mode.SUBTRACT)


solid = part.part
